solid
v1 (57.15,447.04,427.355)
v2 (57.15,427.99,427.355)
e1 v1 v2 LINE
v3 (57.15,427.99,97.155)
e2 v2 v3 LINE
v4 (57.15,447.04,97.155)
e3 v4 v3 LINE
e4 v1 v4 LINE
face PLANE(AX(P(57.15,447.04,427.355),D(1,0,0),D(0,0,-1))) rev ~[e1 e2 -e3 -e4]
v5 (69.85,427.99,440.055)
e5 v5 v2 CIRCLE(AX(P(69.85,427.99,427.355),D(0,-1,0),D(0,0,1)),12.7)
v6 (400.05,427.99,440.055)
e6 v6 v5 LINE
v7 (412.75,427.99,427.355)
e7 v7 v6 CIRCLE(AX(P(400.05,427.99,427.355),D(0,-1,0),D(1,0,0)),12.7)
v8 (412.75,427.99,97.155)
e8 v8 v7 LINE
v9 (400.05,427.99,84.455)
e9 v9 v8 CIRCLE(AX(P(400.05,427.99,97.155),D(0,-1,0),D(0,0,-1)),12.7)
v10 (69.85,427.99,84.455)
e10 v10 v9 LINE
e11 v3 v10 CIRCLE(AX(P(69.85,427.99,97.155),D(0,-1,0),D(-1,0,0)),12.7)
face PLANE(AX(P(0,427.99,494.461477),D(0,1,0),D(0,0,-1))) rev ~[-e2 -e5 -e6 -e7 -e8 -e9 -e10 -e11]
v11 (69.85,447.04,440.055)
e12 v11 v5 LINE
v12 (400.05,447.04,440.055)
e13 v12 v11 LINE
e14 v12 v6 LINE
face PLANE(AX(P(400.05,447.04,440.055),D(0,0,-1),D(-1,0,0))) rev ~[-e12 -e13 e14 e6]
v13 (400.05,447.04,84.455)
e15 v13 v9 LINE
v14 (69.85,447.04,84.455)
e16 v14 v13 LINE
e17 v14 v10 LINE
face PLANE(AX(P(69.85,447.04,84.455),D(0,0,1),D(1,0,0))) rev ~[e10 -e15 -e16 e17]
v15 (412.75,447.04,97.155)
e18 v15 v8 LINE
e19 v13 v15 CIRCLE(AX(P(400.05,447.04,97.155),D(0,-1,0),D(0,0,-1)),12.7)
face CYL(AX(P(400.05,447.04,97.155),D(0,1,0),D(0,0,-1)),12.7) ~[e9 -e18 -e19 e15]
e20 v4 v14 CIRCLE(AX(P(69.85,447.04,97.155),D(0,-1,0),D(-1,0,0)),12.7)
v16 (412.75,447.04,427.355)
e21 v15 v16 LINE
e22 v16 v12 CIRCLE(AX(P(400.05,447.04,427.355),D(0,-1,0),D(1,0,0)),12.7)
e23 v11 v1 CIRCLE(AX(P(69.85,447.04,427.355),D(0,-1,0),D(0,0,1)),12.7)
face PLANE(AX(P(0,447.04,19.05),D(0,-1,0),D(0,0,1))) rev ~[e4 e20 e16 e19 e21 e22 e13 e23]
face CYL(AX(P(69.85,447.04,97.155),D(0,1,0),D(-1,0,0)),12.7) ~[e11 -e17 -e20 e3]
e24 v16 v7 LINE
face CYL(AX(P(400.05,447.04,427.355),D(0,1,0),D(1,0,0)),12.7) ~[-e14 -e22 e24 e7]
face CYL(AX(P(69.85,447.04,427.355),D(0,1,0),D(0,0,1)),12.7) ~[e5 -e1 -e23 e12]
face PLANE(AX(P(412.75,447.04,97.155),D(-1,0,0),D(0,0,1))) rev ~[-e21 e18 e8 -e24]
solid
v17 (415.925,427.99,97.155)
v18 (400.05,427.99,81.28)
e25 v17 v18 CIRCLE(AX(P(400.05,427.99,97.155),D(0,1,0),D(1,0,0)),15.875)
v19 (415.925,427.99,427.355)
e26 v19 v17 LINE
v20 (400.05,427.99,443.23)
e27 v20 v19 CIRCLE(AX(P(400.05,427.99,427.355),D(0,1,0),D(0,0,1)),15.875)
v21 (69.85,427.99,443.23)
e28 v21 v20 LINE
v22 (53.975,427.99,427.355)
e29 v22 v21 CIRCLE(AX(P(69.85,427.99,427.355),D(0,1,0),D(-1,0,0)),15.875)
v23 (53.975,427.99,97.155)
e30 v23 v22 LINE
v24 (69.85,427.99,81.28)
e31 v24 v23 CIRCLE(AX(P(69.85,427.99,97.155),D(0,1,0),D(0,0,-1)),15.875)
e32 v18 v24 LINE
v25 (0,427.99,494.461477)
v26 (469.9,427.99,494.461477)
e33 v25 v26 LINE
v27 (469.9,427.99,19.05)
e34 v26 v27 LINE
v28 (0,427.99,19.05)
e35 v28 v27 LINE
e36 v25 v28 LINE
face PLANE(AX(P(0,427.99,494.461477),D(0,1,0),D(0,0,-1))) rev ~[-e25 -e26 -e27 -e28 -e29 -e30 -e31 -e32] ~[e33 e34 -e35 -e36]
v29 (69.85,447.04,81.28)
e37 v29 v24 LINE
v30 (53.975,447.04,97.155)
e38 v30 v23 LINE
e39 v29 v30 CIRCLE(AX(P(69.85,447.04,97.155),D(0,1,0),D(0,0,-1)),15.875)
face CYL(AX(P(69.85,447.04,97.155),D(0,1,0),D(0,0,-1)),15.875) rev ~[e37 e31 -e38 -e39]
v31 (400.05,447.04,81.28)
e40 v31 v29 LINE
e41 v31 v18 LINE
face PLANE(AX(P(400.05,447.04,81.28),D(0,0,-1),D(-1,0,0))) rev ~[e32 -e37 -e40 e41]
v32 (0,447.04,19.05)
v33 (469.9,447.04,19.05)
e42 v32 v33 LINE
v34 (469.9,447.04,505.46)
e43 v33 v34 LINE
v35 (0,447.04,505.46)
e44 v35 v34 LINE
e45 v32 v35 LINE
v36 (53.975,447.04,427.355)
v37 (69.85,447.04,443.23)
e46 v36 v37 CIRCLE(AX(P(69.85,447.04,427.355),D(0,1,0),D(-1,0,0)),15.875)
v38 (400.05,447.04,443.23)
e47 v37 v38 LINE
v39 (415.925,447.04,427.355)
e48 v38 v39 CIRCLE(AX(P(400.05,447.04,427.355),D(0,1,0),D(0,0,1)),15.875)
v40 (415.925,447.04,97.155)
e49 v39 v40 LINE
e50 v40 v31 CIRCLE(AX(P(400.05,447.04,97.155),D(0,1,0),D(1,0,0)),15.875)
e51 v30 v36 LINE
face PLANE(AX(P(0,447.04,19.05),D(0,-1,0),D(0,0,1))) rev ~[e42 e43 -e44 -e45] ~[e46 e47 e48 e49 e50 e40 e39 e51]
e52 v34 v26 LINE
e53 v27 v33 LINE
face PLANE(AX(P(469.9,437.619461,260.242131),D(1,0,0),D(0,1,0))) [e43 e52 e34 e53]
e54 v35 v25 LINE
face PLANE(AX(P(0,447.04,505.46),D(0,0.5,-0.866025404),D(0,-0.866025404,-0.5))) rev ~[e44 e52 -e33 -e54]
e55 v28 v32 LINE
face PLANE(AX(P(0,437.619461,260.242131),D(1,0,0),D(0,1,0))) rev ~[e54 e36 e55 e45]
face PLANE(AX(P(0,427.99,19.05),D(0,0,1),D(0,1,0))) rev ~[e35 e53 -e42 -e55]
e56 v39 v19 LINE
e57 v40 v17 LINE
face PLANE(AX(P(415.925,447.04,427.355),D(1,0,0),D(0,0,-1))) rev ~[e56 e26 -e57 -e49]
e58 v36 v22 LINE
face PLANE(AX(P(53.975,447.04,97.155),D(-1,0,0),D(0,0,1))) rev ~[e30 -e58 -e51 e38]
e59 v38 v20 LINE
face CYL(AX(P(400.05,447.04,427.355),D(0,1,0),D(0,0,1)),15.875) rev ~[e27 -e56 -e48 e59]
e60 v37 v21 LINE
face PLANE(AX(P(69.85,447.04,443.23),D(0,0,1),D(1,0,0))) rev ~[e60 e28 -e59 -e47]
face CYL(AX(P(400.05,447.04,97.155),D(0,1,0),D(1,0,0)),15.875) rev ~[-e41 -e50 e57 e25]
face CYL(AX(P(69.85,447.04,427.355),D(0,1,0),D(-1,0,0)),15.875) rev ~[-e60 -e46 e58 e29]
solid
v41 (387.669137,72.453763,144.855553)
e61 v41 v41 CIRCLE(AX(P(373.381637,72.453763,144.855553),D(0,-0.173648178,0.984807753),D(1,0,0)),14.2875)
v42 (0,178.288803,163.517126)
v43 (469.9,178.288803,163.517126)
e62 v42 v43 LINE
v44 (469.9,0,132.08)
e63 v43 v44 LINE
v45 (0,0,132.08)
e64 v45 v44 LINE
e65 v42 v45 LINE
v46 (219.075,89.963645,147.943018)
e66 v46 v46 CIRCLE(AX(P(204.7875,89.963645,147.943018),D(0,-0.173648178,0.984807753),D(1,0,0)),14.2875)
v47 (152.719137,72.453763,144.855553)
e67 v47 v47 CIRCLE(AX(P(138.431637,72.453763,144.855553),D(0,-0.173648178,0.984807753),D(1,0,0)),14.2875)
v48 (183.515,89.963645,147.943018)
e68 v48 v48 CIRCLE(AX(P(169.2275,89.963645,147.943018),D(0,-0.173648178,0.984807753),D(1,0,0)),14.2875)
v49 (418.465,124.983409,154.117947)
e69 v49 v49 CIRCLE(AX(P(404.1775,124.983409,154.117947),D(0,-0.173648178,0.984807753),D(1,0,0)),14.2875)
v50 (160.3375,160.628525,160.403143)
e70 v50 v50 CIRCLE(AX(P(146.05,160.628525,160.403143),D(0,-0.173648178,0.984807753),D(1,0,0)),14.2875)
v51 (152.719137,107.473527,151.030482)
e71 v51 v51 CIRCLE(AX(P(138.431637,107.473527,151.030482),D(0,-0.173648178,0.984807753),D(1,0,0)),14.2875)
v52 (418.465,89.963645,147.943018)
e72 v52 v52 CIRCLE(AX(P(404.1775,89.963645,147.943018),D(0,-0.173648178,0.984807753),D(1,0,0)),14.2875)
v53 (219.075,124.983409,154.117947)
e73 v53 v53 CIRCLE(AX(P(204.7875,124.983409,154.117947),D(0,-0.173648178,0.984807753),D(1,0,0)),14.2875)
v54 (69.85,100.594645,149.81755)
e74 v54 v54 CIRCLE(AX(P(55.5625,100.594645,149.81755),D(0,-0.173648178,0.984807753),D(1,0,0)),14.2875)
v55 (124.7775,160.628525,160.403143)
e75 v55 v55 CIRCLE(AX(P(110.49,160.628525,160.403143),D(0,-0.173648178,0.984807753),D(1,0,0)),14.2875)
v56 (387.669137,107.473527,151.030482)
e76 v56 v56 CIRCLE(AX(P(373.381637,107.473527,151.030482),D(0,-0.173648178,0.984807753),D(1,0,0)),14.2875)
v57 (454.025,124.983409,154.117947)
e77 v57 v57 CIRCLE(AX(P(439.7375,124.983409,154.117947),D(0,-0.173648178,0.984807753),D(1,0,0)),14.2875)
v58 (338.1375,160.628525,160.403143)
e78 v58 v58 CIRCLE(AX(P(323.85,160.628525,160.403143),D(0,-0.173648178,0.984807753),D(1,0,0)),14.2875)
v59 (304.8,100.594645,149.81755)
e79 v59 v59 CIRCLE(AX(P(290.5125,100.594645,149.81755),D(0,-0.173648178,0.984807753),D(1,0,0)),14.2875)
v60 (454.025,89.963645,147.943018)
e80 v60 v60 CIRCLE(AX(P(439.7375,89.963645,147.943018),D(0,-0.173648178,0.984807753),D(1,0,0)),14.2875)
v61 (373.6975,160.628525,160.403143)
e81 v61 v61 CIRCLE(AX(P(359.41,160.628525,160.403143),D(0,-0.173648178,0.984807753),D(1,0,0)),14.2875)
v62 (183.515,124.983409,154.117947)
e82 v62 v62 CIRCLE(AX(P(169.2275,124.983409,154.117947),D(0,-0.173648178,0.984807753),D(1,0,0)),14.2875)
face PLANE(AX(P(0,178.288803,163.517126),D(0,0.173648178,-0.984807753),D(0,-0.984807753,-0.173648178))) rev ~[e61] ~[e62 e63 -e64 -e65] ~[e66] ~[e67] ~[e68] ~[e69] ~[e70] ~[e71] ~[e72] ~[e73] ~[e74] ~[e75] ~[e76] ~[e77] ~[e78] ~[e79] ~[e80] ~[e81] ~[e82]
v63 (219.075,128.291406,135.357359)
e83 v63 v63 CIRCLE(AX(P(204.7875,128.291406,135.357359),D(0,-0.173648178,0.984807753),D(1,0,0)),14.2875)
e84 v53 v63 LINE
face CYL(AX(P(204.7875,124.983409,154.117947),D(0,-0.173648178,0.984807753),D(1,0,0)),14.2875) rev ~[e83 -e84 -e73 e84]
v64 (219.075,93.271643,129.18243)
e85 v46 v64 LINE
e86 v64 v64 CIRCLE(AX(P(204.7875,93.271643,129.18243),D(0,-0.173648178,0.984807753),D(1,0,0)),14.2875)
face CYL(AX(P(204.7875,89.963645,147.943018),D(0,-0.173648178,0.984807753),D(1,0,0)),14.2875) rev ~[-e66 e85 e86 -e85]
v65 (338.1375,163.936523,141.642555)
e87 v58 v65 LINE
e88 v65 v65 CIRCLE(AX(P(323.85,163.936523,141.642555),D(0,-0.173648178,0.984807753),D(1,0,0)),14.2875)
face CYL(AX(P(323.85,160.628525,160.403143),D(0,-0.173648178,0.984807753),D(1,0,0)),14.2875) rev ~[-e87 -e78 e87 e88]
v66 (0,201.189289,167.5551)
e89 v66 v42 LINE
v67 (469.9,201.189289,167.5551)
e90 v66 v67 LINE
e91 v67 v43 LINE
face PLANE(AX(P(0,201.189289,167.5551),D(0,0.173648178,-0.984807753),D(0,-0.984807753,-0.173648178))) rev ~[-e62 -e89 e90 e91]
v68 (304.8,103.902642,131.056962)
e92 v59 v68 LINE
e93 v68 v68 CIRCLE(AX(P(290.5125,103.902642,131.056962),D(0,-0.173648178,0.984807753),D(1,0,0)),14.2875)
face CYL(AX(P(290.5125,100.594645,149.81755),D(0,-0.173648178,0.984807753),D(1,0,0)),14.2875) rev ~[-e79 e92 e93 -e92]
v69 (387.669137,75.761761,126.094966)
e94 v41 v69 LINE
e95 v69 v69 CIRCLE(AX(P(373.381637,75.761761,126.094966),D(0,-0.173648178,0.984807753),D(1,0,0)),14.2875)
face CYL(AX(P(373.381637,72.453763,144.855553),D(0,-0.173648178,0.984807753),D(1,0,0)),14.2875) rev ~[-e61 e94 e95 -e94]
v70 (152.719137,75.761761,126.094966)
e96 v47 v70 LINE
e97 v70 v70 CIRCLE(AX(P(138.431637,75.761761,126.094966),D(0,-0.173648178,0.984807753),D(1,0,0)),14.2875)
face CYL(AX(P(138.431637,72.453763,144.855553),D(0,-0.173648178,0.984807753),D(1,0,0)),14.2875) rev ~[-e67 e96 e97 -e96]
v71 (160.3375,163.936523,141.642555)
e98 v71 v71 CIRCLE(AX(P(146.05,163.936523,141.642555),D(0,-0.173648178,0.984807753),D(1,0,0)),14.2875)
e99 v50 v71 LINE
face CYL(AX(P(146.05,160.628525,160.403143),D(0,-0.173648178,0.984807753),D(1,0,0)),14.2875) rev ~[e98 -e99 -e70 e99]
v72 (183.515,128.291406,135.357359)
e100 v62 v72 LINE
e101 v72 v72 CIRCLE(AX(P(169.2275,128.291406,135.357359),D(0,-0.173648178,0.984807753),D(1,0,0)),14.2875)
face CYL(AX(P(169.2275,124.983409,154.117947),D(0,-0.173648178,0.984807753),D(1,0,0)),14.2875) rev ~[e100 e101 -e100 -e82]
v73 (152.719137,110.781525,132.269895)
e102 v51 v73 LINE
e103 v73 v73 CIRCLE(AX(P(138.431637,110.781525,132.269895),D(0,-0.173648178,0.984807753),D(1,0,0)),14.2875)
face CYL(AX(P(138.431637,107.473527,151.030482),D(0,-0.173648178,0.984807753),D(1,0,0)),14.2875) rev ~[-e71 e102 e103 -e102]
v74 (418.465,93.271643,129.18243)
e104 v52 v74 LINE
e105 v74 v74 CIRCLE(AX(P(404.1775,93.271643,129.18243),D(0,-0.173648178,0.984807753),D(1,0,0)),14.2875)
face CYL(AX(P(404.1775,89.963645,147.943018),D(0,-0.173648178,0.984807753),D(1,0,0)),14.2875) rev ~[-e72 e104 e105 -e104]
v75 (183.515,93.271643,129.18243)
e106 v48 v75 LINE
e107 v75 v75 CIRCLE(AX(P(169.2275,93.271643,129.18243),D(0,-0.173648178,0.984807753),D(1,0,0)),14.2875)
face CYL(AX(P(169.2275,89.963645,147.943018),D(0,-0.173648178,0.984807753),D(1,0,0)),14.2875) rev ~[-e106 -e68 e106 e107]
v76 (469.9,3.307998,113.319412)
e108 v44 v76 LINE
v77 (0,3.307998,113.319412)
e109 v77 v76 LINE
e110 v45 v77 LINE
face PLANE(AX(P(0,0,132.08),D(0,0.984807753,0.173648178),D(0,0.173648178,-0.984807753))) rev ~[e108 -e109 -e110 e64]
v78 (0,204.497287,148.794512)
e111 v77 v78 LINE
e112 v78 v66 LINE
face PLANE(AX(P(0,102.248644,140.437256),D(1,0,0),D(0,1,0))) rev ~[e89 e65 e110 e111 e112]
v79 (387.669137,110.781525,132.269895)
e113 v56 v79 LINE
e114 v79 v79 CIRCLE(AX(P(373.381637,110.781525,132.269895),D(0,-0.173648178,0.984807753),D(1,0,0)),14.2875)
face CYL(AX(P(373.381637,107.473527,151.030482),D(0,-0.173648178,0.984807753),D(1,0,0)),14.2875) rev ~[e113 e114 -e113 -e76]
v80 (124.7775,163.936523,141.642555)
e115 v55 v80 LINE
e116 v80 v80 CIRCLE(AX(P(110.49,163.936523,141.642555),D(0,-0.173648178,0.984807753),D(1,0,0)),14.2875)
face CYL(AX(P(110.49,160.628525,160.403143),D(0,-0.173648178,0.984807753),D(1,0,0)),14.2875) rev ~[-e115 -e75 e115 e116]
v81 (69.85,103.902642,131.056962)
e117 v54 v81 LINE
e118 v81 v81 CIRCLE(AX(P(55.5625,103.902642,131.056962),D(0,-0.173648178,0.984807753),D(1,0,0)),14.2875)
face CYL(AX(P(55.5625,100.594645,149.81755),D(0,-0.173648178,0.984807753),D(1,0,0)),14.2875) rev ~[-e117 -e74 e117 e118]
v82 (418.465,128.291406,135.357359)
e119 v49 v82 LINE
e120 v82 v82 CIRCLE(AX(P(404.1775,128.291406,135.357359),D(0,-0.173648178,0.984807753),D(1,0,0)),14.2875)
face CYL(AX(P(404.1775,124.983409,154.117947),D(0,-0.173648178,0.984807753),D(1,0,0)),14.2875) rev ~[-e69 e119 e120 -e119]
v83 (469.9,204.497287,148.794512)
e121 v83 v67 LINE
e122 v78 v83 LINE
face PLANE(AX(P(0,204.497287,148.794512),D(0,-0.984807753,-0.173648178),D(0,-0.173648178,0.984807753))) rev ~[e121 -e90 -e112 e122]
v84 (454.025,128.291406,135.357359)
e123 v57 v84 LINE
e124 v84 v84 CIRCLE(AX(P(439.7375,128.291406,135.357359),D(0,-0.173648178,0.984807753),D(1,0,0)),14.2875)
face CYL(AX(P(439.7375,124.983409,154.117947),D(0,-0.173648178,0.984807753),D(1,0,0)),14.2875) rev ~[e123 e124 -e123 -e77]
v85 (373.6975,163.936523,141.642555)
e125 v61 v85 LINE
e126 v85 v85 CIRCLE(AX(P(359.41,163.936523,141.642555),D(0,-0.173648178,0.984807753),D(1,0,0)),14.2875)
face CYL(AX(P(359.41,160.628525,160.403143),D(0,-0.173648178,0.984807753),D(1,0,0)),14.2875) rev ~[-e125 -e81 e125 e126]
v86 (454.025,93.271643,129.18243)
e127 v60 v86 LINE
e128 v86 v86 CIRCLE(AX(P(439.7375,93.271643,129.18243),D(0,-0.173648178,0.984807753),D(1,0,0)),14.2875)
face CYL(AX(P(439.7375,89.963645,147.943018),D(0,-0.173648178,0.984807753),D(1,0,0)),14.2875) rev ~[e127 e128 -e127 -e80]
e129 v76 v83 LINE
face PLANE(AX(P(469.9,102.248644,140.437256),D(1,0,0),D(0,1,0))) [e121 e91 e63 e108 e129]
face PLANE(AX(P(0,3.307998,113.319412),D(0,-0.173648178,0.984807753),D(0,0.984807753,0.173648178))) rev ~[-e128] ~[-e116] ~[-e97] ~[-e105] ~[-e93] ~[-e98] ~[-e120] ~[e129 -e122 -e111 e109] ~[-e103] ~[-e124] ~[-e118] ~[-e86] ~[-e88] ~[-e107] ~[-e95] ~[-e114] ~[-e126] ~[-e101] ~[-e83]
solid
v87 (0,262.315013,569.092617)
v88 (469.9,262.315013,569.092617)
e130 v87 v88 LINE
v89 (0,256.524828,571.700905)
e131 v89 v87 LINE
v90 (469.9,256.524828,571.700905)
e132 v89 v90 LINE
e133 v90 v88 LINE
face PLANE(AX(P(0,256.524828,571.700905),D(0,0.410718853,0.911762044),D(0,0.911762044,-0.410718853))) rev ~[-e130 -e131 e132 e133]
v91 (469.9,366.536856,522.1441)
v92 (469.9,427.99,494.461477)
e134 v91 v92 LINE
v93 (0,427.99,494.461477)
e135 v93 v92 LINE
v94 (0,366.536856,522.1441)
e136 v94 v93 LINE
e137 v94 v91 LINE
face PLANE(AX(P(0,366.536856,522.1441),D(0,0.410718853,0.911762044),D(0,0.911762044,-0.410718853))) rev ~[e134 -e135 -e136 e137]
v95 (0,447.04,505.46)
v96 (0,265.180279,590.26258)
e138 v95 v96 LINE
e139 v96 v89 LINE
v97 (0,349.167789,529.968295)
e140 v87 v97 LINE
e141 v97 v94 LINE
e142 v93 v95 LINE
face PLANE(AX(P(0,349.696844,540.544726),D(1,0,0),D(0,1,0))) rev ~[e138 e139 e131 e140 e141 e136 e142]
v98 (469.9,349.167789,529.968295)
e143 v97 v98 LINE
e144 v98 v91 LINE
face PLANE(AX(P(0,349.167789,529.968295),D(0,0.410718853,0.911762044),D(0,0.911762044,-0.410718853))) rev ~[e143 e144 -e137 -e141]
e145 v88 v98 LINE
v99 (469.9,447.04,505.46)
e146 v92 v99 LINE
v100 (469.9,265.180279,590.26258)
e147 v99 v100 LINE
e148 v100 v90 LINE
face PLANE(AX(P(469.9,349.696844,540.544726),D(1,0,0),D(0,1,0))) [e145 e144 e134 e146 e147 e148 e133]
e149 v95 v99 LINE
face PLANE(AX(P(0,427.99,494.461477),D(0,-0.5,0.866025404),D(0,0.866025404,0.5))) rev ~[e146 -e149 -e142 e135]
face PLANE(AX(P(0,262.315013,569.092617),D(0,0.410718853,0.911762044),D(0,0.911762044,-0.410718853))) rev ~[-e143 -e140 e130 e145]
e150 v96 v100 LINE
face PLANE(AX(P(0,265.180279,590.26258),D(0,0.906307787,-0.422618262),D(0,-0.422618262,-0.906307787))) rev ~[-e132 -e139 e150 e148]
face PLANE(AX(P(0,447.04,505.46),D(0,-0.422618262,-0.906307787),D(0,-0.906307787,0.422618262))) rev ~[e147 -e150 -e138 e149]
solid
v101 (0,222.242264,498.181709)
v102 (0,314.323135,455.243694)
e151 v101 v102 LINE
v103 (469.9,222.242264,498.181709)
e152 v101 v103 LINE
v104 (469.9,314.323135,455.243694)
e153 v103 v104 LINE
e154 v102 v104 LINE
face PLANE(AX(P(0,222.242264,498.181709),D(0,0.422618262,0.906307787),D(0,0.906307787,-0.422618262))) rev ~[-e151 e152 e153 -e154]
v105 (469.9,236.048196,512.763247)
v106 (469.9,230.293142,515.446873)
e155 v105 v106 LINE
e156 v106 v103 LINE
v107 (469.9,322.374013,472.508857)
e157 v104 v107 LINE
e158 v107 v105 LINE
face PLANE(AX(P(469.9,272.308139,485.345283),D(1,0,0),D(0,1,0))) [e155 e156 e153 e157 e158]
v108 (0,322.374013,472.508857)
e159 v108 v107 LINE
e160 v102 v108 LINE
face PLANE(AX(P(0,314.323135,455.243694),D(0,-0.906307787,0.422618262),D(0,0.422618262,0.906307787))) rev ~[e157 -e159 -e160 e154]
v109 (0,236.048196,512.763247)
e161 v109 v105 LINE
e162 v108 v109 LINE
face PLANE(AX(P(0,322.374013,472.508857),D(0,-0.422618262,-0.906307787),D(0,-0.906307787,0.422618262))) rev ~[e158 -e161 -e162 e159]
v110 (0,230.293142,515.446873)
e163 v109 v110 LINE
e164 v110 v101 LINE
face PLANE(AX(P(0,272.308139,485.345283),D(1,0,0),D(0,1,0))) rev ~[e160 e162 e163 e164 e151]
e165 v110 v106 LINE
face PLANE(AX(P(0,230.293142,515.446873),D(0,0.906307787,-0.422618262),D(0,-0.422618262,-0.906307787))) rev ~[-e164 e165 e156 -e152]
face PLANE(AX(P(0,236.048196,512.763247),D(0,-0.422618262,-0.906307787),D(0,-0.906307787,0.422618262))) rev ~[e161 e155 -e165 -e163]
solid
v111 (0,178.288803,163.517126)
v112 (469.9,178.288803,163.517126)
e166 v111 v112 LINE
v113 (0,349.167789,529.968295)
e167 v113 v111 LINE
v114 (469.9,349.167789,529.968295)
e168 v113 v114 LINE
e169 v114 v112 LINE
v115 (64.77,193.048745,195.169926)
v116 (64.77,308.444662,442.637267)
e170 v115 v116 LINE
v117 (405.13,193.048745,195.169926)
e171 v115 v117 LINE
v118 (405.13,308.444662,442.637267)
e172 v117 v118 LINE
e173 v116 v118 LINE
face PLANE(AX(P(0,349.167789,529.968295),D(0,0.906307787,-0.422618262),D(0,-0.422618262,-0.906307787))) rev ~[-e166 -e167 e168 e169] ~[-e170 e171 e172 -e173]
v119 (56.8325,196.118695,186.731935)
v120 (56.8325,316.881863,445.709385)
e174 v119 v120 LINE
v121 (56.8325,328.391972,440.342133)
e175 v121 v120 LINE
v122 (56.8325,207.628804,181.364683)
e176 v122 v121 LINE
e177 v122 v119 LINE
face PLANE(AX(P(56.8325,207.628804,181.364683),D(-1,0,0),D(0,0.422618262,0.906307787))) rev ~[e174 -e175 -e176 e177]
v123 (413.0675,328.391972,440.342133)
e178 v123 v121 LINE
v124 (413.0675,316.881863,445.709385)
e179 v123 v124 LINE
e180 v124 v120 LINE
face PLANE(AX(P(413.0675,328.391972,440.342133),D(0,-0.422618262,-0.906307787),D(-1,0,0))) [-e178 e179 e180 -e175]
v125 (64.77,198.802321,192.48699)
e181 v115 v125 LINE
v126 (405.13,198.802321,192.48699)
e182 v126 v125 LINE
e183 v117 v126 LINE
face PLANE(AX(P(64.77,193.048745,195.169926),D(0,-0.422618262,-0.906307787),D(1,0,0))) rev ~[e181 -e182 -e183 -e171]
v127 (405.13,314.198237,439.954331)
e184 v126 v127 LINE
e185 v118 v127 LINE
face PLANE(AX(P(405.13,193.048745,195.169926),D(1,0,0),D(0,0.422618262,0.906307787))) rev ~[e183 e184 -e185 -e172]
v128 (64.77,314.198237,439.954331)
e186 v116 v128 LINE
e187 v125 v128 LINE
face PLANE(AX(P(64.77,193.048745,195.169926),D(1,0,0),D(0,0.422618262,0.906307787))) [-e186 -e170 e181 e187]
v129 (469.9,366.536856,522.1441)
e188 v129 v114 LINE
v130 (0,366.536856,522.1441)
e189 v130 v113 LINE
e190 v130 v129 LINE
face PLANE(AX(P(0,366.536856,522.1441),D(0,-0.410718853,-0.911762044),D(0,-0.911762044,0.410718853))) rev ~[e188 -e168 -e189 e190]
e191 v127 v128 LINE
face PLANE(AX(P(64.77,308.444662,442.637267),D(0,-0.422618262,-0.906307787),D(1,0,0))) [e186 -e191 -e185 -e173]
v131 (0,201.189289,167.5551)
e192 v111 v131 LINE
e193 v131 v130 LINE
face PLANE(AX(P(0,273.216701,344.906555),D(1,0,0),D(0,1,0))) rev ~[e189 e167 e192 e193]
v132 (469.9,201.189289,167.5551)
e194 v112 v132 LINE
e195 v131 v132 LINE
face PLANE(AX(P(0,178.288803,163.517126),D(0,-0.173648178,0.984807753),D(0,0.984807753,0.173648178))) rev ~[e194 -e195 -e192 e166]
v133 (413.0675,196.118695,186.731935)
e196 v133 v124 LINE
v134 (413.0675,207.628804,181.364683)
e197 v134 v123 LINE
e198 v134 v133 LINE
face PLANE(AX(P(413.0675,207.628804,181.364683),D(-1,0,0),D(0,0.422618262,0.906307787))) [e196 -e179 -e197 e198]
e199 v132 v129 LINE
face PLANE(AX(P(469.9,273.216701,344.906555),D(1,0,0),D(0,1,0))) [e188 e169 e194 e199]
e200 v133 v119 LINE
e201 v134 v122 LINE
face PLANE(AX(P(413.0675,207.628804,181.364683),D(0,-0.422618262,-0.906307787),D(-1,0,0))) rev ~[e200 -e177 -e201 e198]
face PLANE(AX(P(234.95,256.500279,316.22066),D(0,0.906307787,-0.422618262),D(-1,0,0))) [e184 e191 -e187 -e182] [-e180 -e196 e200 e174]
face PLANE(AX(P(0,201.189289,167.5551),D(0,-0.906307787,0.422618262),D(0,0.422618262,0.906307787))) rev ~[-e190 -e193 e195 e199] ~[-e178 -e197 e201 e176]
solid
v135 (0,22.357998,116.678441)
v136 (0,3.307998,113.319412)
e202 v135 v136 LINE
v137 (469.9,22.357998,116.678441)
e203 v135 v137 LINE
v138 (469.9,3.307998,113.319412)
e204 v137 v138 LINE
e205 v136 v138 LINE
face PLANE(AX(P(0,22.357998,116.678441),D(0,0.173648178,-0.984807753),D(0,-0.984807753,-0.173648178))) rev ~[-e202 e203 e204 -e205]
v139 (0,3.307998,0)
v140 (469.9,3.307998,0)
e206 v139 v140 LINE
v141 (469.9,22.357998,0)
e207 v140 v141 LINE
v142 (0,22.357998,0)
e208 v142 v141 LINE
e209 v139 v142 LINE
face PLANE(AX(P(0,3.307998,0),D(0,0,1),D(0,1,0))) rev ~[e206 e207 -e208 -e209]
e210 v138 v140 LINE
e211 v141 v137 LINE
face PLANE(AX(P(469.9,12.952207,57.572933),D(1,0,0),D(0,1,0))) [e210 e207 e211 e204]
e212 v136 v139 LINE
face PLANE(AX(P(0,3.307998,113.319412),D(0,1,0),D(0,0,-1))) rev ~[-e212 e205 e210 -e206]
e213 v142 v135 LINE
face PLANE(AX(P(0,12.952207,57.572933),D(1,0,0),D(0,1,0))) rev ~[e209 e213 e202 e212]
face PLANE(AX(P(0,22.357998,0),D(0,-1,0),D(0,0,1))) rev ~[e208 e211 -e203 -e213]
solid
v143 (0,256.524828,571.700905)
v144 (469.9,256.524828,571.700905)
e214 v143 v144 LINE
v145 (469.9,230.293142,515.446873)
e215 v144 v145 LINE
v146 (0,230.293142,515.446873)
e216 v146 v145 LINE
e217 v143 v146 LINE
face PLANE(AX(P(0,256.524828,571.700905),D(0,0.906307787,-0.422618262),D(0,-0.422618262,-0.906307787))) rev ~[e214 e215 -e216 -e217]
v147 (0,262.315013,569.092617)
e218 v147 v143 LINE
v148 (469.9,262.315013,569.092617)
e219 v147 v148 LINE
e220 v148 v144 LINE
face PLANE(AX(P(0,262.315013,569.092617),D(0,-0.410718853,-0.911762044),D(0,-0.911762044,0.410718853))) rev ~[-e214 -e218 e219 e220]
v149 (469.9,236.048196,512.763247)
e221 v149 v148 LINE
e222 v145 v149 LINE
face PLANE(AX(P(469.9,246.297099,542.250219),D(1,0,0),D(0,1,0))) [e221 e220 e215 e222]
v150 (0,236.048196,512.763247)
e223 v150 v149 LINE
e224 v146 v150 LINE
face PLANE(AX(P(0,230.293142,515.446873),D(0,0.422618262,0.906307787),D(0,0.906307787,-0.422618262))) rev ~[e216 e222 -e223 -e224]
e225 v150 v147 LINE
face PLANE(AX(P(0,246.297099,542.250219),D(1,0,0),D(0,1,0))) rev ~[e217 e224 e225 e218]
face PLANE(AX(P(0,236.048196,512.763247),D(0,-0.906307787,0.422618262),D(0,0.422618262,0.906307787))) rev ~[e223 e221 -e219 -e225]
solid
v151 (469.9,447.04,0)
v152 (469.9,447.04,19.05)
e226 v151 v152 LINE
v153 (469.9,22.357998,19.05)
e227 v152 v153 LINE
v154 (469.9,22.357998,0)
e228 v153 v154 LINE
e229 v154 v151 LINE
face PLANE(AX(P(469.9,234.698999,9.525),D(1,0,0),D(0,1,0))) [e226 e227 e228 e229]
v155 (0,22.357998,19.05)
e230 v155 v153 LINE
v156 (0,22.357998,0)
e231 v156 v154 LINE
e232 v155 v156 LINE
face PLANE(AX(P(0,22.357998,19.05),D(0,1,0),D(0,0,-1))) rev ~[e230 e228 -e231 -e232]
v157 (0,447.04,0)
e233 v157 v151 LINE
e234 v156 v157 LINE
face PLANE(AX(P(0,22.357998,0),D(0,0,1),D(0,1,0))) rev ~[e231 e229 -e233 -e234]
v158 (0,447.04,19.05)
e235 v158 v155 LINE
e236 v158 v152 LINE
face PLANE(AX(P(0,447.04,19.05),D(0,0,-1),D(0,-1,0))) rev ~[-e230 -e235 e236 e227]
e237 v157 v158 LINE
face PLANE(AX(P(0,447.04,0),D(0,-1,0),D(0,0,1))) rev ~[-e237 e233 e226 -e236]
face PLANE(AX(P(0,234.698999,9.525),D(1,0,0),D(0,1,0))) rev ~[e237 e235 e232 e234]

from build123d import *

# Parameters (mm, degrees)
F1_DEPTH  = 469.9
F2_DEPTH  = 469.9
F3_DEPTH  = 469.9
F4_DEPTH  = 469.9
F5_DEPTH  = 469.9
F6_DEPTH  = 469.9
F7_DEPTH  = 469.9
F8_DEPTH  = 469.9
F9_R      = 14.2875
F10_DEPTH = 19.05
F11_W     = 340.36
F11_H     = 273.05
F12_DEPTH = 19.05
F14_DEPTH = 19.05
F15_W     = 356.235
F15_H     = 285.75
F15_W_2   = 340.36
F15_H_2   = 273.05
F16_DEPTH = 12.7


with BuildPart() as f1:
    # F0 (on Right) → F1 (new body)
    with BuildSketch(Plane.YZ):
        Polygon((447.04, 19.05), (447.04, 505.46), (427.99, 494.4614773719), (427.99, 19.05), align=None)
    extrude(amount=F1_DEPTH)

    # F13 (on face) → F14 (cut)
    with BuildSketch(Plane(origin=(0, 447.04, 0), x_dir=(-1, 0, 0), z_dir=(0, 1, 0))):
        with BuildLine():
            Line((-400.05, 81.28), (-69.85, 81.28))
            ThreePointArc((-69.85, 81.28), (-58.6246798487, 85.9296798487), (-53.975, 97.155))
            Line((-53.975, 97.155), (-53.975, 427.355))
            ThreePointArc((-53.975, 427.355), (-58.6246798487, 438.5803201513), (-69.85, 443.23))
            Line((-69.85, 443.23), (-400.05, 443.23))
            ThreePointArc((-400.05, 443.23), (-411.2753201513, 438.5803201513), (-415.925, 427.355))
            Line((-415.925, 427.355), (-415.925, 97.155))
            ThreePointArc((-415.925, 97.155), (-411.2753201513, 85.9296798487), (-400.05, 81.28))
        make_face()
        with BuildLine():
            Line((-69.85, 84.455), (-400.05, 84.455))
            ThreePointArc((-400.05, 84.455), (-409.0302561211, 88.1747438789), (-412.75, 97.155))
            Line((-412.75, 97.155), (-412.75, 427.355))
            ThreePointArc((-412.75, 427.355), (-409.0302561211, 436.3352561211), (-400.05, 440.055))
            Line((-400.05, 440.055), (-69.85, 440.055))
            ThreePointArc((-69.85, 440.055), (-60.8697438789, 436.3352561211), (-57.15, 427.355))
            Line((-57.15, 427.355), (-57.15, 97.155))
            ThreePointArc((-57.15, 97.155), (-60.8697438789, 88.1747438789), (-69.85, 84.455))
        make_face(mode=Mode.SUBTRACT)
    extrude(amount=-F14_DEPTH, mode=Mode.SUBTRACT)


with BuildPart() as f2:
    # F0 (on Right) → F2 (new body)
    with BuildSketch(Plane.YZ):
        Polygon((427.99, 494.4614773719), (447.04, 505.46), (265.1802794532, 590.2625804009), (256.5248281929, 571.700905273), (262.3150132288, 569.0926171005), (349.1677887675, 529.9682945134), (366.5368556977, 522.1441003712), align=None)
    extrude(amount=F2_DEPTH)


with BuildPart() as f3:
    # F0 (on Right) → F3 (new body)
    with BuildSketch(Plane.YZ):
        Polygon((447.04, 0), (447.04, 19.05), (427.99, 19.05), (22.3579977846, 19.05), (22.3579977846, 0), align=None)
    extrude(amount=F3_DEPTH)


with BuildPart() as f4:
    # F0 (on Right) → F4 (new body)
    with BuildSketch(Plane.YZ):
        Polygon((22.3579977846, 0), (22.3579977846, 19.05), (22.3579977846, 116.6784412876), (3.3079977846, 113.3194123051), (3.3079977846, 0), align=None)
    extrude(amount=F4_DEPTH)


with BuildPart() as f5:
    # F0 (on Right) → F5 (new body)
    with BuildSketch(Plane.YZ):
        Polygon((204.4972870801, 148.7945122375), (201.1892892955, 167.5550999324), (178.2888026757, 163.5171262699), (0, 132.08), (3.3079977846, 113.3194123051), (22.3579977846, 116.6784412876), align=None)
    extrude(amount=F5_DEPTH)

    # F9 (on face) → F10 (cut)
    with BuildSketch(Plane(origin=(0, -22.5870102652, 128.0973006767), x_dir=(1, 0, 0), z_dir=(0, -0.1736481777, 0.984807753))):
        with Locations((138.4316366414, 132.0669304948)):
            Circle(F9_R)
        with Locations((138.4316366414, 96.5069304948)):
            Circle(F9_R)
        with Locations((169.2275, 114.2869304948)):
            Circle(F9_R)
        with Locations((169.2275, 149.8469304948)):
            Circle(F9_R)
        with Locations((204.7875, 149.8469304948)):
            Circle(F9_R)
        with Locations((204.7875, 114.2869304948)):
            Circle(F9_R)
        with Locations((110.49, 186.0419304948)):
            Circle(F9_R)
        with Locations((146.05, 186.0419304948)):
            Circle(F9_R)
        with Locations((55.5625, 125.0819304948)):
            Circle(F9_R)
        with Locations((323.85, 186.0419304948)):
            Circle(F9_R)
        with Locations((359.41, 186.0419304948)):
            Circle(F9_R)
        with Locations((290.5125, 125.0819304948)):
            Circle(F9_R)
        with Locations((373.3816366414, 96.5069304948)):
            Circle(F9_R)
        with Locations((373.3816366414, 132.0669304948)):
            Circle(F9_R)
        with Locations((404.1775, 114.2869304948)):
            Circle(F9_R)
        with Locations((404.1775, 149.8469304948)):
            Circle(F9_R)
        with Locations((439.7375, 149.8469304948)):
            Circle(F9_R)
        with Locations((439.7375, 114.2869304948)):
            Circle(F9_R)
    extrude(amount=-F10_DEPTH, mode=Mode.SUBTRACT)


with BuildPart() as f6:
    # F0 (on Right) → F6 (new body)
    with BuildSketch(Plane.YZ):
        Polygon((201.1892892955, 167.5550999324), (366.5368556977, 522.1441003712), (349.1677887675, 529.9682945134), (322.3740131095, 472.5088571882), (314.3231352233, 455.2436938451), (178.2888026757, 163.5171262699), align=None)
    extrude(amount=F6_DEPTH)

    # F11 (on face) → F12 (cut)
    with BuildSketch(Plane(origin=(0, 83.8146250238, -39.083401514), x_dir=(1, 0, 0), z_dir=(0, -0.906307787, 0.4226182617))):
        with Locations((234.95, 394.9949487269)):
            Rectangle(F11_W, F11_H)
    extrude(amount=-F12_DEPTH, mode=Mode.SUBTRACT)

    # F15 (on face) → F16 (cut)
    with BuildSketch(Plane(origin=(0, 101.0783092184, -47.1335896619), x_dir=(-1, 0, 0), z_dir=(0, 0.906307787, -0.4226182617))):
        with Locations((-234.95, 394.9949487269)):
            Rectangle(F15_W, F15_H)
        with Locations((-234.95, 394.9949487269)):
            Rectangle(F15_W_2, F15_H_2, mode=Mode.SUBTRACT)
    extrude(amount=-F16_DEPTH, mode=Mode.SUBTRACT)


with BuildPart() as f7:
    # F0 (on Right) → F7 (new body)
    with BuildSketch(Plane.YZ):
        Polygon((236.0481963942, 512.763246619), (230.2931419465, 515.446872581), (222.2422640604, 498.181709238), (314.3231352233, 455.2436938451), (322.3740131095, 472.5088571882), align=None)
    extrude(amount=F7_DEPTH)


with BuildPart() as f8:
    # F0 (on Right) → F8 (new body)
    with BuildSketch(Plane.YZ):
        Polygon((262.3150132288, 569.0926171005), (256.5248281929, 571.700905273), (230.2931419465, 515.446872581), (236.0481963942, 512.763246619), align=None)
    extrude(amount=F8_DEPTH)


solid = Compound([f1.part, f2.part, f3.part, f4.part, f5.part, f6.part, f7.part, f8.part])
